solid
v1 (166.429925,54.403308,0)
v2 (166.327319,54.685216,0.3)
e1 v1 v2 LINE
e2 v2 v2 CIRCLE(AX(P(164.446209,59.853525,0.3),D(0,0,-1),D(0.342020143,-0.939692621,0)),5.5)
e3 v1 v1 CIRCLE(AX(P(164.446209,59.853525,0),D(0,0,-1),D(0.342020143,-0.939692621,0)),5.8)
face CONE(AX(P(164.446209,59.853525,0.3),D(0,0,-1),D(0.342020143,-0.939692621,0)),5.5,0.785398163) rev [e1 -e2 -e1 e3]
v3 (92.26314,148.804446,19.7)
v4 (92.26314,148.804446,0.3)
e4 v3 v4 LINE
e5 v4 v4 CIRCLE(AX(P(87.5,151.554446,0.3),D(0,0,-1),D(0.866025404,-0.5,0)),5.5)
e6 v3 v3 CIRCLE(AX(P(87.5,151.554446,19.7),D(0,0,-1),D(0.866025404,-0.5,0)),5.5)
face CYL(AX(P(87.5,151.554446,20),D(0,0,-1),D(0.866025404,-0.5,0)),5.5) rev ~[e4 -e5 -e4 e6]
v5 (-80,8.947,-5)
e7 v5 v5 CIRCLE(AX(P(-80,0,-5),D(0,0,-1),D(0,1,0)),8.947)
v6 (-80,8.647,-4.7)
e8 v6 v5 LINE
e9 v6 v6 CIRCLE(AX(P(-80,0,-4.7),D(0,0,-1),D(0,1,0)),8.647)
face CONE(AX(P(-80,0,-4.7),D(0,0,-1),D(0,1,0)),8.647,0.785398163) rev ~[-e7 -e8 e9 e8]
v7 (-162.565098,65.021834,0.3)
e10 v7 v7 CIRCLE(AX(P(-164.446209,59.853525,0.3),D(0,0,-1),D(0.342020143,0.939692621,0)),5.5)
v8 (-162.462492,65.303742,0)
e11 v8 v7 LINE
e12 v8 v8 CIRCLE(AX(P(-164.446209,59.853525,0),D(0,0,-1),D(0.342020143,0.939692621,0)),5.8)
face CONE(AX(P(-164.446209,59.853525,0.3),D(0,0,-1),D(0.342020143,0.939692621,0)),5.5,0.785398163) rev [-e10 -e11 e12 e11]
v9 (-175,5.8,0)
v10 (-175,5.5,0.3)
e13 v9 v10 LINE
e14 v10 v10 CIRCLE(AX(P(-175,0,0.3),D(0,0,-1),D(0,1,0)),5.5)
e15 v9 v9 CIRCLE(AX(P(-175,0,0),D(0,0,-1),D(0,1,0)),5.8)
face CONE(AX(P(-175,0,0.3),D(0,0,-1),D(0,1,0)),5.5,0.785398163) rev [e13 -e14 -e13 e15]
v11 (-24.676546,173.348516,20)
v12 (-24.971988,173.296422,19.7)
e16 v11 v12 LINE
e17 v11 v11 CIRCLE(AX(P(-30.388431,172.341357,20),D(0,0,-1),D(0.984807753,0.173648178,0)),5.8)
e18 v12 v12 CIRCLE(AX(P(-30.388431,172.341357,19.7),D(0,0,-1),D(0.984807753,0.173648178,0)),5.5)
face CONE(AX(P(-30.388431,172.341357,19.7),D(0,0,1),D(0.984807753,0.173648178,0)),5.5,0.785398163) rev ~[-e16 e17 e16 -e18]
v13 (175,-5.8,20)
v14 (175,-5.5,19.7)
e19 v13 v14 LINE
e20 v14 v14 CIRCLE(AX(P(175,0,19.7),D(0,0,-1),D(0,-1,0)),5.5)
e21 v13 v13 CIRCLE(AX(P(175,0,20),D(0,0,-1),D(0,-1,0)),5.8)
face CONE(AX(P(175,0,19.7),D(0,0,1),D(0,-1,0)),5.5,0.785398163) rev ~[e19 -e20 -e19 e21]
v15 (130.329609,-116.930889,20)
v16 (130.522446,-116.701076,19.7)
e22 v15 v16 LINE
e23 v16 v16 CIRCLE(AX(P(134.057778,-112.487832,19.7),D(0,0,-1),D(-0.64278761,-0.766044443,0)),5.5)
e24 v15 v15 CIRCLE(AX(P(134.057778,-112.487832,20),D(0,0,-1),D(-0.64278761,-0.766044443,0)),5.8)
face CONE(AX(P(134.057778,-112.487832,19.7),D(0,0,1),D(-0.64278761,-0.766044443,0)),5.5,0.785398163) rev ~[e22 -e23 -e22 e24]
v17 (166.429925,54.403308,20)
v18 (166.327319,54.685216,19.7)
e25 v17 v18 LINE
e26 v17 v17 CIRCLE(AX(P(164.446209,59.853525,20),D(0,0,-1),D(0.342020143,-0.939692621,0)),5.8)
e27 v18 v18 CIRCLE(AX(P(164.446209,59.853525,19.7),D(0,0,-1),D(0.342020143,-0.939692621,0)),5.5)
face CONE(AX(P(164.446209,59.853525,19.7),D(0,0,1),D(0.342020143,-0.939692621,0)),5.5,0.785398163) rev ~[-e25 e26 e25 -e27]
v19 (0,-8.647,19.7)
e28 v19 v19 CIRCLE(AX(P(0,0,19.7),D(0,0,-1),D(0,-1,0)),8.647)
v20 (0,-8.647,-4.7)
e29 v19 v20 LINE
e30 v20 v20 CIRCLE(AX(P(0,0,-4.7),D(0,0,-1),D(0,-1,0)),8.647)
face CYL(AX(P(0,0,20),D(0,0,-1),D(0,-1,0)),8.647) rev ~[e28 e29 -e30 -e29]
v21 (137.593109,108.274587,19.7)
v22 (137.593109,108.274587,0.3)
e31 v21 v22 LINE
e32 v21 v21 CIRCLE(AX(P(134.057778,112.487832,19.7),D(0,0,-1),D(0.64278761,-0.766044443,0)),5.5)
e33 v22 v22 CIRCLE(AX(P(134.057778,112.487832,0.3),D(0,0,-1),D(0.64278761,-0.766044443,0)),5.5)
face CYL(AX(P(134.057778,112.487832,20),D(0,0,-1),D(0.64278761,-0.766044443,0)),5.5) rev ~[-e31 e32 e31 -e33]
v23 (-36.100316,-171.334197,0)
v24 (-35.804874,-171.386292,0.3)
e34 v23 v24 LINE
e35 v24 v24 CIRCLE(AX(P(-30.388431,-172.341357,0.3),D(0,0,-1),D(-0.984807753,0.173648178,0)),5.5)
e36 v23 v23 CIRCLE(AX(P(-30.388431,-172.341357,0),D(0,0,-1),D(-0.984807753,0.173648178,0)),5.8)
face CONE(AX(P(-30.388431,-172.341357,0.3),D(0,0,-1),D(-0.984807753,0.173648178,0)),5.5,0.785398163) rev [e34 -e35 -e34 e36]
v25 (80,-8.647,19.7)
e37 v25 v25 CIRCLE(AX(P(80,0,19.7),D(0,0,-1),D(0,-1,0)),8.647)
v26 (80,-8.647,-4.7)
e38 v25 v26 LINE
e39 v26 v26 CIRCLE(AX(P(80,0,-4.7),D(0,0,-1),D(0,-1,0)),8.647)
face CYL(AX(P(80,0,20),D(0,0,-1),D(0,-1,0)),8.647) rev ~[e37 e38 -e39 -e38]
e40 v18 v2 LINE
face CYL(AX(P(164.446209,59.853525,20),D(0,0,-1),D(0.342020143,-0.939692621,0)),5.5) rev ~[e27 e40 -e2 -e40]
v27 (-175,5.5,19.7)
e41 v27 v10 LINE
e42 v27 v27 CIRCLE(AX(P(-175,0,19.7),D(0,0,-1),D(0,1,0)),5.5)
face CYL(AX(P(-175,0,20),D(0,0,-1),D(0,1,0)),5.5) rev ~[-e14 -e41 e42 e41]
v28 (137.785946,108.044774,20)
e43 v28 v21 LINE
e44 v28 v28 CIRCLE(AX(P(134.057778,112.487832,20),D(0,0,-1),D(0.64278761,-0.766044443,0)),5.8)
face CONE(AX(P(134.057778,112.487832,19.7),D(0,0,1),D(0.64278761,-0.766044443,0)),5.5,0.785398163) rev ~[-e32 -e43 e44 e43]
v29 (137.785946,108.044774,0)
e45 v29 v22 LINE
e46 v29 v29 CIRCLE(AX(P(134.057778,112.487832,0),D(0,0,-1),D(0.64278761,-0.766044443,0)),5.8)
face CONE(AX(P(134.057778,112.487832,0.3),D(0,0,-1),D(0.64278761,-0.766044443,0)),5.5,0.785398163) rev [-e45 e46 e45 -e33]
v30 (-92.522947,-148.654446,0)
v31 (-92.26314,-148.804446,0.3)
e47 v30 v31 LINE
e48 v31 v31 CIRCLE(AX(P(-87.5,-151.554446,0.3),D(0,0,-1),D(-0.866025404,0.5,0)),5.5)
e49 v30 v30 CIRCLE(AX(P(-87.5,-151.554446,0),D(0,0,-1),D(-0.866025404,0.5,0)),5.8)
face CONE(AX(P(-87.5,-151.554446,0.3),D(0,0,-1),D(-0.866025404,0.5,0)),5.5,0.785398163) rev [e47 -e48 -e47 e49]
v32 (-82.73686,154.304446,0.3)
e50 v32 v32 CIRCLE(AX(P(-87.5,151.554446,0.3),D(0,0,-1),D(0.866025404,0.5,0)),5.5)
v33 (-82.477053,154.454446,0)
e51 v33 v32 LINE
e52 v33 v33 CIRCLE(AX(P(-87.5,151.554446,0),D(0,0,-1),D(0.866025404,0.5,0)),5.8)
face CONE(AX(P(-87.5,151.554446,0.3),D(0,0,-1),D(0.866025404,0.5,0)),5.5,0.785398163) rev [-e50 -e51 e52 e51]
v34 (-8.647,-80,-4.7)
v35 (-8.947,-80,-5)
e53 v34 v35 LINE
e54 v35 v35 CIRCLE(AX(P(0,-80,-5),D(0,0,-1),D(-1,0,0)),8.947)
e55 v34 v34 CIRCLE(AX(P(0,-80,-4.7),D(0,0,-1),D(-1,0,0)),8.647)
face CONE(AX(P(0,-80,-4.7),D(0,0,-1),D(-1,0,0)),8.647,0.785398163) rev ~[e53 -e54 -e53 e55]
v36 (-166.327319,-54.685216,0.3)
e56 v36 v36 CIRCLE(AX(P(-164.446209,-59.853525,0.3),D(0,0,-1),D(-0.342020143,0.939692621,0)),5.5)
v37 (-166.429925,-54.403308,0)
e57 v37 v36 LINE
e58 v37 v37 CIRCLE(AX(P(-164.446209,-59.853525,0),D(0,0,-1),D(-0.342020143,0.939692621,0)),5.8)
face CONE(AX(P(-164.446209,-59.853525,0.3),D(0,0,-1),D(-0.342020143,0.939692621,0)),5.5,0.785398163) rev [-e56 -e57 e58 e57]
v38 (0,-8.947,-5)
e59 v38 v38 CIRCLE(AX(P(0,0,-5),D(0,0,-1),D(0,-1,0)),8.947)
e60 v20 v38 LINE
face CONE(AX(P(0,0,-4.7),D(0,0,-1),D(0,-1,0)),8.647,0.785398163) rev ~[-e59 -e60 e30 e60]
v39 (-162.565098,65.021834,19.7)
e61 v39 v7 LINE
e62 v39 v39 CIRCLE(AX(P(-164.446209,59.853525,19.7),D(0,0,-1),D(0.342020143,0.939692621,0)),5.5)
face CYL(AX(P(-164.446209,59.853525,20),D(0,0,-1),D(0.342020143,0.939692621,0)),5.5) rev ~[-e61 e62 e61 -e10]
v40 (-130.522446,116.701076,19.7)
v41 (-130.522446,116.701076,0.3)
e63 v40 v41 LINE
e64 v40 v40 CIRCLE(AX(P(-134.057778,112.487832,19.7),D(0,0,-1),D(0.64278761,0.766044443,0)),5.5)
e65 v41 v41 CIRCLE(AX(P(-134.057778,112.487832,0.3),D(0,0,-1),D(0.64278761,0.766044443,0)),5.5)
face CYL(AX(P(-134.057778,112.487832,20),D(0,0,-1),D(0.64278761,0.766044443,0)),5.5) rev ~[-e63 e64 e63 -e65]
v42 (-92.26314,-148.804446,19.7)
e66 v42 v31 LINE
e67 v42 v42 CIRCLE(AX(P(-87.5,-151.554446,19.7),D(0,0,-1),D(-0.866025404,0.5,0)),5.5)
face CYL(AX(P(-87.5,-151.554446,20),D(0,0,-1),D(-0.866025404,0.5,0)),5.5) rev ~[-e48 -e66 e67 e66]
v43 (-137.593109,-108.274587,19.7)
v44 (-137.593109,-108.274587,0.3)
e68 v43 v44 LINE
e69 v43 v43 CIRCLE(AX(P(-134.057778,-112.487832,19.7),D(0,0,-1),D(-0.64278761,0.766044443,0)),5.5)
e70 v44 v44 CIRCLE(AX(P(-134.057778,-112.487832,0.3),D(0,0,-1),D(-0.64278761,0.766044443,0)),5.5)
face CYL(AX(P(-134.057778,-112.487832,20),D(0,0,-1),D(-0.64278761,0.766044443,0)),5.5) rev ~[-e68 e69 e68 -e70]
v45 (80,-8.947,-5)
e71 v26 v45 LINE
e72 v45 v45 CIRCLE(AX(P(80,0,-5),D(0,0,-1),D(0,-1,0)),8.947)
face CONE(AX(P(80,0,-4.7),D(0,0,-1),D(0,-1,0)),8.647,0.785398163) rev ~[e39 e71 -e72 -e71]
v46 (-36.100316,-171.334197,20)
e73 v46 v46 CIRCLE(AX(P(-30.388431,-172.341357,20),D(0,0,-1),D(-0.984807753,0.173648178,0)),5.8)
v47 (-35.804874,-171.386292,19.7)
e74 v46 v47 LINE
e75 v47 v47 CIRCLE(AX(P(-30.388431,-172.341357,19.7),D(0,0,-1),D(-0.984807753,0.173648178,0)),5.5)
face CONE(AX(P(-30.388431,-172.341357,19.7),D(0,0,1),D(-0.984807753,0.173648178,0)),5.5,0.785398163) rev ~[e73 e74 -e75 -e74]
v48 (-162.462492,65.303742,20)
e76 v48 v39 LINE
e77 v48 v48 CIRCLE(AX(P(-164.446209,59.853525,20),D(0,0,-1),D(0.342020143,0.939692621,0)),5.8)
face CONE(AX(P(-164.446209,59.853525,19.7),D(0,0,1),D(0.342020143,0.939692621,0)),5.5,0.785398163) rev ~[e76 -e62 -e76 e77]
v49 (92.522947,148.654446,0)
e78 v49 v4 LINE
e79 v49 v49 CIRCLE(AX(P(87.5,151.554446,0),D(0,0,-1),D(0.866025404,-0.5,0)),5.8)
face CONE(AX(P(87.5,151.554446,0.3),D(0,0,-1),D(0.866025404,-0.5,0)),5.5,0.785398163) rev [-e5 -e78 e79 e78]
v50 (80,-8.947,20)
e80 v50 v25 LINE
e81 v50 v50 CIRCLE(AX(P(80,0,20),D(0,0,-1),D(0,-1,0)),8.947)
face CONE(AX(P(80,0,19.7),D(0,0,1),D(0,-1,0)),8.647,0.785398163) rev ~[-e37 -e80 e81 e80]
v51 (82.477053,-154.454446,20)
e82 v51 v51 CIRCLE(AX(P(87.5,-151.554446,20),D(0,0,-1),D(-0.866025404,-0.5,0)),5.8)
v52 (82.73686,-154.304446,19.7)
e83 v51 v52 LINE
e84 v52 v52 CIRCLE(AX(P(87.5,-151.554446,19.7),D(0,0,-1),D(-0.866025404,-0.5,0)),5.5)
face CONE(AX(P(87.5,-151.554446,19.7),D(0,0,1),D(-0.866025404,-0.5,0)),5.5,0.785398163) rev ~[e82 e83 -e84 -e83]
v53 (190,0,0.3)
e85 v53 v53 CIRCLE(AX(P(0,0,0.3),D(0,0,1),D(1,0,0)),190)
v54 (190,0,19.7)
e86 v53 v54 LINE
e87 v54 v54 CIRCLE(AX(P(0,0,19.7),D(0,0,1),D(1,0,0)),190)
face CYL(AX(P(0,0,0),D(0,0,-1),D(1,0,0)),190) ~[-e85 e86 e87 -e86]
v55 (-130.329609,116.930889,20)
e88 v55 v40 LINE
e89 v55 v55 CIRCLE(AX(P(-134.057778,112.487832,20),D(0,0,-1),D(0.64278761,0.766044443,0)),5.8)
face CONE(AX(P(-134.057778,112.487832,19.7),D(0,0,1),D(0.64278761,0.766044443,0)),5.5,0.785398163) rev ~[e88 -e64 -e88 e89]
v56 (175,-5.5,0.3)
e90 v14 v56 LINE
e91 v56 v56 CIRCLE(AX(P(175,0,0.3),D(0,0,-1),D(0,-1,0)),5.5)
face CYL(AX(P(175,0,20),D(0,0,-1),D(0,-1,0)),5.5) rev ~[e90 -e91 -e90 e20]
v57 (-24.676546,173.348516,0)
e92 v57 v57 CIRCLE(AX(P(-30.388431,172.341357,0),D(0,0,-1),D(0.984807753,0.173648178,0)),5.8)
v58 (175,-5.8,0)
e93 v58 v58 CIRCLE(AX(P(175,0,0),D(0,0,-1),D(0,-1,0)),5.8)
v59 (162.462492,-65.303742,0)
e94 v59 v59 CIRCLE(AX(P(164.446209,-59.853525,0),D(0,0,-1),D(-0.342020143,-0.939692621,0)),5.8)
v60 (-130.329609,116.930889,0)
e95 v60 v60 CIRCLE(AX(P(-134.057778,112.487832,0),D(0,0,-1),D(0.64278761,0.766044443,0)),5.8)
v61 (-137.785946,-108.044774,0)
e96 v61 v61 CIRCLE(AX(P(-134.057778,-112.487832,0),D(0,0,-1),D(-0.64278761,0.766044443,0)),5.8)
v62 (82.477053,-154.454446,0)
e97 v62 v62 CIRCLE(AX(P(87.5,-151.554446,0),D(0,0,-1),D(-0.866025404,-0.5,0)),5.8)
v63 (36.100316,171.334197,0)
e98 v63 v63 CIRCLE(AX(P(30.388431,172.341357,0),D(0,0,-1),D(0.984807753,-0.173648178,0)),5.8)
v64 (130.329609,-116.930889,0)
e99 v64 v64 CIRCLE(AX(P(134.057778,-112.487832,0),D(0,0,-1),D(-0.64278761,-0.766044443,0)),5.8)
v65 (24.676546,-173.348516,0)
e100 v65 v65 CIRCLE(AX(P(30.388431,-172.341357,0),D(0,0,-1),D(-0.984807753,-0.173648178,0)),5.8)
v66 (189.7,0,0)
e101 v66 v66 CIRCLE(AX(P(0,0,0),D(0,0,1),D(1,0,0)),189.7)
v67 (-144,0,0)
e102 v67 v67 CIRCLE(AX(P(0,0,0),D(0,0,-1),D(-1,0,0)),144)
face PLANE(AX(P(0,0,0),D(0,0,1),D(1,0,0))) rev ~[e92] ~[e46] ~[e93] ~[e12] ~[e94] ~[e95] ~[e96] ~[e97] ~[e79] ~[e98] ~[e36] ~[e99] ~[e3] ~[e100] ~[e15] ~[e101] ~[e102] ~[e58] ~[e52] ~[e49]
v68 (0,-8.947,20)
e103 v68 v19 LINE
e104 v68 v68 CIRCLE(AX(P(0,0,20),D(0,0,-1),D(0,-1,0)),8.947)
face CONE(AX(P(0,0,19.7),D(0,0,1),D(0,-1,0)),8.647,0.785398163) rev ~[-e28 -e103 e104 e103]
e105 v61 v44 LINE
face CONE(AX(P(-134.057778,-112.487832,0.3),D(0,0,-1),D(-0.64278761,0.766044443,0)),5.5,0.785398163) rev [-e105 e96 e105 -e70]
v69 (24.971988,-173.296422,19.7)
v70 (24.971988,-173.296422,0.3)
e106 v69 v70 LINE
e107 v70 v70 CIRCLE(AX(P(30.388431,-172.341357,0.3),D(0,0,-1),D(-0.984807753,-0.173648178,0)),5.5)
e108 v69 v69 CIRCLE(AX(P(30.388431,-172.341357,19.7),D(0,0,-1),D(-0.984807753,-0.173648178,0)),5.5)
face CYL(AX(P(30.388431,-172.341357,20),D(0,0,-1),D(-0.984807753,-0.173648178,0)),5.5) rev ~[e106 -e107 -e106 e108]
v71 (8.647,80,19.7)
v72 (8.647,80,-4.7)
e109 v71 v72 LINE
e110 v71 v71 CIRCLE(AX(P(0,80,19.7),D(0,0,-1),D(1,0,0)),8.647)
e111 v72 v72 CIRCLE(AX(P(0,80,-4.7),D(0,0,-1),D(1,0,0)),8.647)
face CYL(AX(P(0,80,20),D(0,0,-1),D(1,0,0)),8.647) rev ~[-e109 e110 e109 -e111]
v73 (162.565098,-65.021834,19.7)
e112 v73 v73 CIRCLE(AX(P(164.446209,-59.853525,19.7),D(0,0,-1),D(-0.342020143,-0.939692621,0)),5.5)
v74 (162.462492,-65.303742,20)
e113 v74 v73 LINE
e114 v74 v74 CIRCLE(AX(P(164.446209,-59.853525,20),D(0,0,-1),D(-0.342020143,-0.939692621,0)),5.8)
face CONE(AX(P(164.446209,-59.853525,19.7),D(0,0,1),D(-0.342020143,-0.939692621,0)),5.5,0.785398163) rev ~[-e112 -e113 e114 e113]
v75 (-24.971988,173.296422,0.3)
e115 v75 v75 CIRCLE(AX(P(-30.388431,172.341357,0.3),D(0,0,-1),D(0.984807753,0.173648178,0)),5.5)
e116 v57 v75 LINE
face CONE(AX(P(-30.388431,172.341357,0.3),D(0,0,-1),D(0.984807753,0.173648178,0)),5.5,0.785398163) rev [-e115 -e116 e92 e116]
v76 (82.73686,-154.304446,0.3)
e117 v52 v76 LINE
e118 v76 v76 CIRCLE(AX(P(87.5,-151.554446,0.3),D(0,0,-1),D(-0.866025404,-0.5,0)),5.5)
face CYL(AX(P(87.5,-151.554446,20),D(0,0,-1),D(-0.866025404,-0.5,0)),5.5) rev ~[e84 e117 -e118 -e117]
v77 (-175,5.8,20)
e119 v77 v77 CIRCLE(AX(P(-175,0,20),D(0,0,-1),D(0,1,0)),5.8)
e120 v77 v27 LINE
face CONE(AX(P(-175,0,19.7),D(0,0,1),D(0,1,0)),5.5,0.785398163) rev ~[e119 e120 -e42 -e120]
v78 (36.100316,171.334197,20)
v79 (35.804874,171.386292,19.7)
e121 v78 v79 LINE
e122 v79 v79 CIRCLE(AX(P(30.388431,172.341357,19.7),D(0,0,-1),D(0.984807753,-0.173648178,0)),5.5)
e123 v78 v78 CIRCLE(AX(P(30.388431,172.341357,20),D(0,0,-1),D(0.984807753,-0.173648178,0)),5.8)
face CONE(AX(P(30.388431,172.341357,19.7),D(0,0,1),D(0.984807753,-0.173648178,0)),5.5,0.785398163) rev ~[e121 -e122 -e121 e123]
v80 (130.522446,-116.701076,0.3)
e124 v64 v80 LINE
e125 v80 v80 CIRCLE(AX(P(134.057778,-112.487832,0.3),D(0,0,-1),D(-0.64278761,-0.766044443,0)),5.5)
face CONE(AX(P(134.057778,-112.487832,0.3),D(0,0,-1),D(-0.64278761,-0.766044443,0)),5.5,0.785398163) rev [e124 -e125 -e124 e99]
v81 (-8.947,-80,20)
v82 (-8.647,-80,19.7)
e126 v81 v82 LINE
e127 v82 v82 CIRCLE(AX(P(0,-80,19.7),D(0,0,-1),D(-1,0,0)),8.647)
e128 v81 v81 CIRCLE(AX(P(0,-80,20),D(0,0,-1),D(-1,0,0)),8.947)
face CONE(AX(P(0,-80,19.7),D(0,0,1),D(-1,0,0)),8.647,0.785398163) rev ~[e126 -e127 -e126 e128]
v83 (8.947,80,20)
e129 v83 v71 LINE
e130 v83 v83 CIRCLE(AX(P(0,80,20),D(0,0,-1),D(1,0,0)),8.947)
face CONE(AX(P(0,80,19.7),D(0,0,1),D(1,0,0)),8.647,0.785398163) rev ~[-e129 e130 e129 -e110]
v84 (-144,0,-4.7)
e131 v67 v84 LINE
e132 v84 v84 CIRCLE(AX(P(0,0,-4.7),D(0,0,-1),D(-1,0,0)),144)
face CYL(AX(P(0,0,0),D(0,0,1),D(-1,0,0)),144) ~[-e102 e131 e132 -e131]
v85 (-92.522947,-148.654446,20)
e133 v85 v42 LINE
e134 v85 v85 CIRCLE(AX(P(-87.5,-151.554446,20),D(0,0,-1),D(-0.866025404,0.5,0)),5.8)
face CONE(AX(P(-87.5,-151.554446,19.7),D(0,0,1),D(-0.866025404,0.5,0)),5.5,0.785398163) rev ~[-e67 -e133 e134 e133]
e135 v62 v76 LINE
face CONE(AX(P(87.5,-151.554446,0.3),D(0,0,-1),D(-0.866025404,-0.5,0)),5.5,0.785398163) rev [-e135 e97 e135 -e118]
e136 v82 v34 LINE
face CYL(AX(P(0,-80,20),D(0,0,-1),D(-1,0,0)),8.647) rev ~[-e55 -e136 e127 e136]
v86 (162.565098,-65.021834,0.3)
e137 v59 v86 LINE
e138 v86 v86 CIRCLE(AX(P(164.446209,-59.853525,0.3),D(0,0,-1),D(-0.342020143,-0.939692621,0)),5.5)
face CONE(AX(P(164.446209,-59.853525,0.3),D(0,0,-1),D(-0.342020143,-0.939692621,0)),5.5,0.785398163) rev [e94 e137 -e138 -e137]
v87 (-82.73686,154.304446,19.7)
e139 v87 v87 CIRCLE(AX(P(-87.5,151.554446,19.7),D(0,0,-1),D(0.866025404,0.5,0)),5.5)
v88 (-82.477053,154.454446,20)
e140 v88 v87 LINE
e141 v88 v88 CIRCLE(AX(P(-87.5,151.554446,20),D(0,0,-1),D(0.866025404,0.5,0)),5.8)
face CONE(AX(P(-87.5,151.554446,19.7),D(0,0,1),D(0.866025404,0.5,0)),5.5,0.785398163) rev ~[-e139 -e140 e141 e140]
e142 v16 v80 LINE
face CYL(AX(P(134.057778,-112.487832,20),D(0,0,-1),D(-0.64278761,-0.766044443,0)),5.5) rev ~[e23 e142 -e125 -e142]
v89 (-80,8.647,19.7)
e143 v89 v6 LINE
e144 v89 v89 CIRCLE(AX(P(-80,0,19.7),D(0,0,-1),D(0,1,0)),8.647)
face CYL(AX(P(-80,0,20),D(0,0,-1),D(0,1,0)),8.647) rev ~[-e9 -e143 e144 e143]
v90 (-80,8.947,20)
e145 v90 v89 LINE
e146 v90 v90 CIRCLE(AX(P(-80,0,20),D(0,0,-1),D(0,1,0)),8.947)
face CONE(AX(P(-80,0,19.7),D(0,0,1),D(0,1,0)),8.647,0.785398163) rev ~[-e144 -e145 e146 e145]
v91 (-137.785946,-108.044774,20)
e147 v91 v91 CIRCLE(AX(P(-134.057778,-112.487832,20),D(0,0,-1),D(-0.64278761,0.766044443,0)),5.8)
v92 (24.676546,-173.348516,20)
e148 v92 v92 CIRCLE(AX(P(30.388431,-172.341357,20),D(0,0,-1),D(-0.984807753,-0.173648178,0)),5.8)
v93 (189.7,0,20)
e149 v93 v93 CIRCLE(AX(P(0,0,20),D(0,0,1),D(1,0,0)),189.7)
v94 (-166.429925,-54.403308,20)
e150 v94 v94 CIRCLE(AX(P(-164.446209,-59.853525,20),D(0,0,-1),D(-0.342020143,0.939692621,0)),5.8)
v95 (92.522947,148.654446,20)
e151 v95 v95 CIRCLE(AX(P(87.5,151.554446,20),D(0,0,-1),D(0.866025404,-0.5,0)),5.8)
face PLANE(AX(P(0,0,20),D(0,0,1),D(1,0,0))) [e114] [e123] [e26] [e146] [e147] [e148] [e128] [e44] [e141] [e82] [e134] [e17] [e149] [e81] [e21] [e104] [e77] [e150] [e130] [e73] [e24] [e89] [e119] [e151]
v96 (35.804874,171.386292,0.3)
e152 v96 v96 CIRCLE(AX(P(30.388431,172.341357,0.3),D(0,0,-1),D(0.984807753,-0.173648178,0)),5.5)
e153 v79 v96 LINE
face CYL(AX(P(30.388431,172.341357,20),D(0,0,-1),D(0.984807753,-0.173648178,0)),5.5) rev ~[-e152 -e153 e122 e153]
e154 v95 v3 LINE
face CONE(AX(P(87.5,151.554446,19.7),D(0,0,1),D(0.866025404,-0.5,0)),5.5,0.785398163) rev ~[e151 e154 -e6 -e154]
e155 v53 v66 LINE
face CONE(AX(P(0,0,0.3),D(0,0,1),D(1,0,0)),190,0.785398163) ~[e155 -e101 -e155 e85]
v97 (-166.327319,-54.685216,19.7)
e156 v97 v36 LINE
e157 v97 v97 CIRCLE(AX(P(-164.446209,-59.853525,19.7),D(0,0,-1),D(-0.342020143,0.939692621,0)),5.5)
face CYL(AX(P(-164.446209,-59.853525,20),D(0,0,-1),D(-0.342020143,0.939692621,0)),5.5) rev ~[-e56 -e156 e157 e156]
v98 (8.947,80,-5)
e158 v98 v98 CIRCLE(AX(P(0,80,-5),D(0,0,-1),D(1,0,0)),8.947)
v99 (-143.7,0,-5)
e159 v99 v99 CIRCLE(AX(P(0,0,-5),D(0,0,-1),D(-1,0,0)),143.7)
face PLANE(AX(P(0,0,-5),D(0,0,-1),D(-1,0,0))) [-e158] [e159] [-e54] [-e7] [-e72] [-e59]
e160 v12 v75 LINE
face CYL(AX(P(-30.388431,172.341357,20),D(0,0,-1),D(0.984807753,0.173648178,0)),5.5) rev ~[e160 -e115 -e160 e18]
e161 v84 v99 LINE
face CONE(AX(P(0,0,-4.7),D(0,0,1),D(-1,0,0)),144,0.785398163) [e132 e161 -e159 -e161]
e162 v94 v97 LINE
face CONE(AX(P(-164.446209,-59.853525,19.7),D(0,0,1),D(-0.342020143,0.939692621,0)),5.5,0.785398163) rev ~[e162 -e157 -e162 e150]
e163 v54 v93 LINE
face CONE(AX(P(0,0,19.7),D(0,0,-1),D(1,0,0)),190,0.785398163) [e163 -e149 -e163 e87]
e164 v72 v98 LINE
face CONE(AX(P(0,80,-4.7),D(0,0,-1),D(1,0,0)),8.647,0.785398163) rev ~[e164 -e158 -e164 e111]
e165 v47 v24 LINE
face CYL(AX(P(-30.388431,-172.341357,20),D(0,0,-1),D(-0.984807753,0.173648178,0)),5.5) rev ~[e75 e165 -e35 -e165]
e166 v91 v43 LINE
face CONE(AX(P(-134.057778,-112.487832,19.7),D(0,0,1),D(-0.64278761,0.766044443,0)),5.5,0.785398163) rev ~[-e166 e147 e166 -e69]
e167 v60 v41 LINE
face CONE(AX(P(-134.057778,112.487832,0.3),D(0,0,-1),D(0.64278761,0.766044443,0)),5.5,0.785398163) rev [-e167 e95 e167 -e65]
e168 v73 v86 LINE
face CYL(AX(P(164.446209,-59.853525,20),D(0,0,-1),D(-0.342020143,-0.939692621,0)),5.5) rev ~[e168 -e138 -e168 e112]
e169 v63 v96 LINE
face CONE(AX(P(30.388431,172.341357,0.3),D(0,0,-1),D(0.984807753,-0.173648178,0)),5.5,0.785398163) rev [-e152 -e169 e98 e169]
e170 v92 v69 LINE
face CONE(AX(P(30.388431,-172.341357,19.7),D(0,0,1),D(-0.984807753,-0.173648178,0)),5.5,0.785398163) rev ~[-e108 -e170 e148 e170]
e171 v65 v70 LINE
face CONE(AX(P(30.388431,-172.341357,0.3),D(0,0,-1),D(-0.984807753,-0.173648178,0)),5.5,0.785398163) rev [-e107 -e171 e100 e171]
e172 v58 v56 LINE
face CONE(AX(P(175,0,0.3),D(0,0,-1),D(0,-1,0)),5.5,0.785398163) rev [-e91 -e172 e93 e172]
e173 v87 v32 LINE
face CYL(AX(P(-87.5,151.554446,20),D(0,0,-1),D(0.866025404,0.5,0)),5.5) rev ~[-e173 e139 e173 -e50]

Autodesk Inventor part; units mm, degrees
ref_plane "YZ Plane" through (0, 0, 0) normal (1, 0, 0) x (0, 1, 0)
ref_plane "XZ Plane" through (0, 0, 0) normal (0, 1, 0) x (-1, 0, 0)
ref_plane "XY Plane" through (0, 0, 0) normal (0, 0, 1) x (1, 0, 0)
sketch "Skizze1" plane through (0, 0, 0) normal (0, 0, 1) x (1, 0, 0)
  circle A0 centre (0, 0) radius 190
  dimension "d0" = 380
extrude "Extrusion1" add sketch "Skizze1" along normal blind 20
sketch "Skizze2" plane through (0, 0, 0) normal (0, 0, -1) x (-1, 0, 0)
  circle A0 centre (0, 0) radius 144
  dimension "d3" = 288
extrude "Extrusion2" add sketch "Skizze2" along normal blind 5
sketch "Skizze3" plane through (0, 0, 20) normal (0, 0, 1) x (1, 0, 0)
  point P0 (0, 0)
  point P1 (0, 0)
  point P2 (175, 0)
hole "Bohrung1" at (175, 0, 20) direction (0, 0, -1) diameter 11 depth 25 tip angle 118
pattern_circular "Runde Anordnung1" count 18 over 360 about axis through (0, 0, 0) along (0, 0, 1) of "Bohrung1"
sketch "Skizze4" plane through (0, 0, 20) normal (0, 0, 1) x (1, 0, 0)
  point P0 (0, 0)
  point P1 (0, 0)
hole "Bohrung2" at (0, 0, 20) direction (0, 0, -1) diameter 17.294 depth 51.2 tip angle 118 thread size "M20x2.5" class "6H" standard "ISO Metric profile"
sketch "Skizze5" plane through (0, 0, 20) normal (0, 0, 1) x (1, 0, 0)
  point P0 (0, 0)
  point P1 (80, 0)
hole "Bohrung3" at (80, 0, 20) direction (0, 0, -1) diameter 17.294 depth 51.2 tip angle 118 thread size "M20x2.5" class "6H" standard "ISO Metric profile"
pattern_circular "Runde Anordnung2" count 4 over 360 about axis through (0, 0, 0) along (0, 0, 1) of "Bohrung3"
chamfer "Fase1" distance 0.3 angle 45 48 edges at (144, 0, -5) (-190, 0, 0) (-24.972, -173.2964, 0) (35.8049, -171.3863, 0) (92.2631, -148.8044, 0) (137.5931, -108.2746, 0) (-82.7369, -154.3044, 0) (-130.5224, -116.7011, 0) (-162.5651, -65.0218, 0) (-175, -5.5, 0) (-166.3273, 54.6852, 0) (-137.5931, 108.2746, 0) (-92.2631, 148.8044, 0) (-35.8049, 171.3863, 0) (24.972, 173.2964, 0) (82.7369, 154.3044, 0) (162.5651, 65.0218, 0) (130.5224, 116.7011, 0) (175, 5.5, 0) (166.3273, -54.6852, 0) (80, 8.647, -5) (8.647, -80, -5) (-80, -8.647, -5) (-8.647, 80, -5) (0, 8.647, -5) (-175, -5.5, 20) (-166.3273, 54.6852, 20) (-137.5931, 108.2746, 20) (-92.2631, 148.8044, 20) (-35.8049, 171.3863, 20) (24.972, 173.2964, 20) (82.7369, 154.3044, 20) (130.5224, 116.7011, 20) (162.5651, 65.0218, 20) (175, 5.5, 20) (-162.5651, -65.0218, 20) (-130.5224, -116.7011, 20) (-82.7369, -154.3044, 20) (-24.972, -173.2964, 20) (35.8049, -171.3863, 20) (166.3273, -54.6852, 20) (137.5931, -108.2746, 20) (0, 8.647, 20) (92.2631, -148.8044, 20) (-80, -8.647, 20) (8.647, -80, 20) (80, 8.647, 20) (-8.647, 80, 20)
chamfer "Fase2" distance 0.3 angle 45 1 edges at (-190, 0, 20)
properties part number "Deckelplatte"
